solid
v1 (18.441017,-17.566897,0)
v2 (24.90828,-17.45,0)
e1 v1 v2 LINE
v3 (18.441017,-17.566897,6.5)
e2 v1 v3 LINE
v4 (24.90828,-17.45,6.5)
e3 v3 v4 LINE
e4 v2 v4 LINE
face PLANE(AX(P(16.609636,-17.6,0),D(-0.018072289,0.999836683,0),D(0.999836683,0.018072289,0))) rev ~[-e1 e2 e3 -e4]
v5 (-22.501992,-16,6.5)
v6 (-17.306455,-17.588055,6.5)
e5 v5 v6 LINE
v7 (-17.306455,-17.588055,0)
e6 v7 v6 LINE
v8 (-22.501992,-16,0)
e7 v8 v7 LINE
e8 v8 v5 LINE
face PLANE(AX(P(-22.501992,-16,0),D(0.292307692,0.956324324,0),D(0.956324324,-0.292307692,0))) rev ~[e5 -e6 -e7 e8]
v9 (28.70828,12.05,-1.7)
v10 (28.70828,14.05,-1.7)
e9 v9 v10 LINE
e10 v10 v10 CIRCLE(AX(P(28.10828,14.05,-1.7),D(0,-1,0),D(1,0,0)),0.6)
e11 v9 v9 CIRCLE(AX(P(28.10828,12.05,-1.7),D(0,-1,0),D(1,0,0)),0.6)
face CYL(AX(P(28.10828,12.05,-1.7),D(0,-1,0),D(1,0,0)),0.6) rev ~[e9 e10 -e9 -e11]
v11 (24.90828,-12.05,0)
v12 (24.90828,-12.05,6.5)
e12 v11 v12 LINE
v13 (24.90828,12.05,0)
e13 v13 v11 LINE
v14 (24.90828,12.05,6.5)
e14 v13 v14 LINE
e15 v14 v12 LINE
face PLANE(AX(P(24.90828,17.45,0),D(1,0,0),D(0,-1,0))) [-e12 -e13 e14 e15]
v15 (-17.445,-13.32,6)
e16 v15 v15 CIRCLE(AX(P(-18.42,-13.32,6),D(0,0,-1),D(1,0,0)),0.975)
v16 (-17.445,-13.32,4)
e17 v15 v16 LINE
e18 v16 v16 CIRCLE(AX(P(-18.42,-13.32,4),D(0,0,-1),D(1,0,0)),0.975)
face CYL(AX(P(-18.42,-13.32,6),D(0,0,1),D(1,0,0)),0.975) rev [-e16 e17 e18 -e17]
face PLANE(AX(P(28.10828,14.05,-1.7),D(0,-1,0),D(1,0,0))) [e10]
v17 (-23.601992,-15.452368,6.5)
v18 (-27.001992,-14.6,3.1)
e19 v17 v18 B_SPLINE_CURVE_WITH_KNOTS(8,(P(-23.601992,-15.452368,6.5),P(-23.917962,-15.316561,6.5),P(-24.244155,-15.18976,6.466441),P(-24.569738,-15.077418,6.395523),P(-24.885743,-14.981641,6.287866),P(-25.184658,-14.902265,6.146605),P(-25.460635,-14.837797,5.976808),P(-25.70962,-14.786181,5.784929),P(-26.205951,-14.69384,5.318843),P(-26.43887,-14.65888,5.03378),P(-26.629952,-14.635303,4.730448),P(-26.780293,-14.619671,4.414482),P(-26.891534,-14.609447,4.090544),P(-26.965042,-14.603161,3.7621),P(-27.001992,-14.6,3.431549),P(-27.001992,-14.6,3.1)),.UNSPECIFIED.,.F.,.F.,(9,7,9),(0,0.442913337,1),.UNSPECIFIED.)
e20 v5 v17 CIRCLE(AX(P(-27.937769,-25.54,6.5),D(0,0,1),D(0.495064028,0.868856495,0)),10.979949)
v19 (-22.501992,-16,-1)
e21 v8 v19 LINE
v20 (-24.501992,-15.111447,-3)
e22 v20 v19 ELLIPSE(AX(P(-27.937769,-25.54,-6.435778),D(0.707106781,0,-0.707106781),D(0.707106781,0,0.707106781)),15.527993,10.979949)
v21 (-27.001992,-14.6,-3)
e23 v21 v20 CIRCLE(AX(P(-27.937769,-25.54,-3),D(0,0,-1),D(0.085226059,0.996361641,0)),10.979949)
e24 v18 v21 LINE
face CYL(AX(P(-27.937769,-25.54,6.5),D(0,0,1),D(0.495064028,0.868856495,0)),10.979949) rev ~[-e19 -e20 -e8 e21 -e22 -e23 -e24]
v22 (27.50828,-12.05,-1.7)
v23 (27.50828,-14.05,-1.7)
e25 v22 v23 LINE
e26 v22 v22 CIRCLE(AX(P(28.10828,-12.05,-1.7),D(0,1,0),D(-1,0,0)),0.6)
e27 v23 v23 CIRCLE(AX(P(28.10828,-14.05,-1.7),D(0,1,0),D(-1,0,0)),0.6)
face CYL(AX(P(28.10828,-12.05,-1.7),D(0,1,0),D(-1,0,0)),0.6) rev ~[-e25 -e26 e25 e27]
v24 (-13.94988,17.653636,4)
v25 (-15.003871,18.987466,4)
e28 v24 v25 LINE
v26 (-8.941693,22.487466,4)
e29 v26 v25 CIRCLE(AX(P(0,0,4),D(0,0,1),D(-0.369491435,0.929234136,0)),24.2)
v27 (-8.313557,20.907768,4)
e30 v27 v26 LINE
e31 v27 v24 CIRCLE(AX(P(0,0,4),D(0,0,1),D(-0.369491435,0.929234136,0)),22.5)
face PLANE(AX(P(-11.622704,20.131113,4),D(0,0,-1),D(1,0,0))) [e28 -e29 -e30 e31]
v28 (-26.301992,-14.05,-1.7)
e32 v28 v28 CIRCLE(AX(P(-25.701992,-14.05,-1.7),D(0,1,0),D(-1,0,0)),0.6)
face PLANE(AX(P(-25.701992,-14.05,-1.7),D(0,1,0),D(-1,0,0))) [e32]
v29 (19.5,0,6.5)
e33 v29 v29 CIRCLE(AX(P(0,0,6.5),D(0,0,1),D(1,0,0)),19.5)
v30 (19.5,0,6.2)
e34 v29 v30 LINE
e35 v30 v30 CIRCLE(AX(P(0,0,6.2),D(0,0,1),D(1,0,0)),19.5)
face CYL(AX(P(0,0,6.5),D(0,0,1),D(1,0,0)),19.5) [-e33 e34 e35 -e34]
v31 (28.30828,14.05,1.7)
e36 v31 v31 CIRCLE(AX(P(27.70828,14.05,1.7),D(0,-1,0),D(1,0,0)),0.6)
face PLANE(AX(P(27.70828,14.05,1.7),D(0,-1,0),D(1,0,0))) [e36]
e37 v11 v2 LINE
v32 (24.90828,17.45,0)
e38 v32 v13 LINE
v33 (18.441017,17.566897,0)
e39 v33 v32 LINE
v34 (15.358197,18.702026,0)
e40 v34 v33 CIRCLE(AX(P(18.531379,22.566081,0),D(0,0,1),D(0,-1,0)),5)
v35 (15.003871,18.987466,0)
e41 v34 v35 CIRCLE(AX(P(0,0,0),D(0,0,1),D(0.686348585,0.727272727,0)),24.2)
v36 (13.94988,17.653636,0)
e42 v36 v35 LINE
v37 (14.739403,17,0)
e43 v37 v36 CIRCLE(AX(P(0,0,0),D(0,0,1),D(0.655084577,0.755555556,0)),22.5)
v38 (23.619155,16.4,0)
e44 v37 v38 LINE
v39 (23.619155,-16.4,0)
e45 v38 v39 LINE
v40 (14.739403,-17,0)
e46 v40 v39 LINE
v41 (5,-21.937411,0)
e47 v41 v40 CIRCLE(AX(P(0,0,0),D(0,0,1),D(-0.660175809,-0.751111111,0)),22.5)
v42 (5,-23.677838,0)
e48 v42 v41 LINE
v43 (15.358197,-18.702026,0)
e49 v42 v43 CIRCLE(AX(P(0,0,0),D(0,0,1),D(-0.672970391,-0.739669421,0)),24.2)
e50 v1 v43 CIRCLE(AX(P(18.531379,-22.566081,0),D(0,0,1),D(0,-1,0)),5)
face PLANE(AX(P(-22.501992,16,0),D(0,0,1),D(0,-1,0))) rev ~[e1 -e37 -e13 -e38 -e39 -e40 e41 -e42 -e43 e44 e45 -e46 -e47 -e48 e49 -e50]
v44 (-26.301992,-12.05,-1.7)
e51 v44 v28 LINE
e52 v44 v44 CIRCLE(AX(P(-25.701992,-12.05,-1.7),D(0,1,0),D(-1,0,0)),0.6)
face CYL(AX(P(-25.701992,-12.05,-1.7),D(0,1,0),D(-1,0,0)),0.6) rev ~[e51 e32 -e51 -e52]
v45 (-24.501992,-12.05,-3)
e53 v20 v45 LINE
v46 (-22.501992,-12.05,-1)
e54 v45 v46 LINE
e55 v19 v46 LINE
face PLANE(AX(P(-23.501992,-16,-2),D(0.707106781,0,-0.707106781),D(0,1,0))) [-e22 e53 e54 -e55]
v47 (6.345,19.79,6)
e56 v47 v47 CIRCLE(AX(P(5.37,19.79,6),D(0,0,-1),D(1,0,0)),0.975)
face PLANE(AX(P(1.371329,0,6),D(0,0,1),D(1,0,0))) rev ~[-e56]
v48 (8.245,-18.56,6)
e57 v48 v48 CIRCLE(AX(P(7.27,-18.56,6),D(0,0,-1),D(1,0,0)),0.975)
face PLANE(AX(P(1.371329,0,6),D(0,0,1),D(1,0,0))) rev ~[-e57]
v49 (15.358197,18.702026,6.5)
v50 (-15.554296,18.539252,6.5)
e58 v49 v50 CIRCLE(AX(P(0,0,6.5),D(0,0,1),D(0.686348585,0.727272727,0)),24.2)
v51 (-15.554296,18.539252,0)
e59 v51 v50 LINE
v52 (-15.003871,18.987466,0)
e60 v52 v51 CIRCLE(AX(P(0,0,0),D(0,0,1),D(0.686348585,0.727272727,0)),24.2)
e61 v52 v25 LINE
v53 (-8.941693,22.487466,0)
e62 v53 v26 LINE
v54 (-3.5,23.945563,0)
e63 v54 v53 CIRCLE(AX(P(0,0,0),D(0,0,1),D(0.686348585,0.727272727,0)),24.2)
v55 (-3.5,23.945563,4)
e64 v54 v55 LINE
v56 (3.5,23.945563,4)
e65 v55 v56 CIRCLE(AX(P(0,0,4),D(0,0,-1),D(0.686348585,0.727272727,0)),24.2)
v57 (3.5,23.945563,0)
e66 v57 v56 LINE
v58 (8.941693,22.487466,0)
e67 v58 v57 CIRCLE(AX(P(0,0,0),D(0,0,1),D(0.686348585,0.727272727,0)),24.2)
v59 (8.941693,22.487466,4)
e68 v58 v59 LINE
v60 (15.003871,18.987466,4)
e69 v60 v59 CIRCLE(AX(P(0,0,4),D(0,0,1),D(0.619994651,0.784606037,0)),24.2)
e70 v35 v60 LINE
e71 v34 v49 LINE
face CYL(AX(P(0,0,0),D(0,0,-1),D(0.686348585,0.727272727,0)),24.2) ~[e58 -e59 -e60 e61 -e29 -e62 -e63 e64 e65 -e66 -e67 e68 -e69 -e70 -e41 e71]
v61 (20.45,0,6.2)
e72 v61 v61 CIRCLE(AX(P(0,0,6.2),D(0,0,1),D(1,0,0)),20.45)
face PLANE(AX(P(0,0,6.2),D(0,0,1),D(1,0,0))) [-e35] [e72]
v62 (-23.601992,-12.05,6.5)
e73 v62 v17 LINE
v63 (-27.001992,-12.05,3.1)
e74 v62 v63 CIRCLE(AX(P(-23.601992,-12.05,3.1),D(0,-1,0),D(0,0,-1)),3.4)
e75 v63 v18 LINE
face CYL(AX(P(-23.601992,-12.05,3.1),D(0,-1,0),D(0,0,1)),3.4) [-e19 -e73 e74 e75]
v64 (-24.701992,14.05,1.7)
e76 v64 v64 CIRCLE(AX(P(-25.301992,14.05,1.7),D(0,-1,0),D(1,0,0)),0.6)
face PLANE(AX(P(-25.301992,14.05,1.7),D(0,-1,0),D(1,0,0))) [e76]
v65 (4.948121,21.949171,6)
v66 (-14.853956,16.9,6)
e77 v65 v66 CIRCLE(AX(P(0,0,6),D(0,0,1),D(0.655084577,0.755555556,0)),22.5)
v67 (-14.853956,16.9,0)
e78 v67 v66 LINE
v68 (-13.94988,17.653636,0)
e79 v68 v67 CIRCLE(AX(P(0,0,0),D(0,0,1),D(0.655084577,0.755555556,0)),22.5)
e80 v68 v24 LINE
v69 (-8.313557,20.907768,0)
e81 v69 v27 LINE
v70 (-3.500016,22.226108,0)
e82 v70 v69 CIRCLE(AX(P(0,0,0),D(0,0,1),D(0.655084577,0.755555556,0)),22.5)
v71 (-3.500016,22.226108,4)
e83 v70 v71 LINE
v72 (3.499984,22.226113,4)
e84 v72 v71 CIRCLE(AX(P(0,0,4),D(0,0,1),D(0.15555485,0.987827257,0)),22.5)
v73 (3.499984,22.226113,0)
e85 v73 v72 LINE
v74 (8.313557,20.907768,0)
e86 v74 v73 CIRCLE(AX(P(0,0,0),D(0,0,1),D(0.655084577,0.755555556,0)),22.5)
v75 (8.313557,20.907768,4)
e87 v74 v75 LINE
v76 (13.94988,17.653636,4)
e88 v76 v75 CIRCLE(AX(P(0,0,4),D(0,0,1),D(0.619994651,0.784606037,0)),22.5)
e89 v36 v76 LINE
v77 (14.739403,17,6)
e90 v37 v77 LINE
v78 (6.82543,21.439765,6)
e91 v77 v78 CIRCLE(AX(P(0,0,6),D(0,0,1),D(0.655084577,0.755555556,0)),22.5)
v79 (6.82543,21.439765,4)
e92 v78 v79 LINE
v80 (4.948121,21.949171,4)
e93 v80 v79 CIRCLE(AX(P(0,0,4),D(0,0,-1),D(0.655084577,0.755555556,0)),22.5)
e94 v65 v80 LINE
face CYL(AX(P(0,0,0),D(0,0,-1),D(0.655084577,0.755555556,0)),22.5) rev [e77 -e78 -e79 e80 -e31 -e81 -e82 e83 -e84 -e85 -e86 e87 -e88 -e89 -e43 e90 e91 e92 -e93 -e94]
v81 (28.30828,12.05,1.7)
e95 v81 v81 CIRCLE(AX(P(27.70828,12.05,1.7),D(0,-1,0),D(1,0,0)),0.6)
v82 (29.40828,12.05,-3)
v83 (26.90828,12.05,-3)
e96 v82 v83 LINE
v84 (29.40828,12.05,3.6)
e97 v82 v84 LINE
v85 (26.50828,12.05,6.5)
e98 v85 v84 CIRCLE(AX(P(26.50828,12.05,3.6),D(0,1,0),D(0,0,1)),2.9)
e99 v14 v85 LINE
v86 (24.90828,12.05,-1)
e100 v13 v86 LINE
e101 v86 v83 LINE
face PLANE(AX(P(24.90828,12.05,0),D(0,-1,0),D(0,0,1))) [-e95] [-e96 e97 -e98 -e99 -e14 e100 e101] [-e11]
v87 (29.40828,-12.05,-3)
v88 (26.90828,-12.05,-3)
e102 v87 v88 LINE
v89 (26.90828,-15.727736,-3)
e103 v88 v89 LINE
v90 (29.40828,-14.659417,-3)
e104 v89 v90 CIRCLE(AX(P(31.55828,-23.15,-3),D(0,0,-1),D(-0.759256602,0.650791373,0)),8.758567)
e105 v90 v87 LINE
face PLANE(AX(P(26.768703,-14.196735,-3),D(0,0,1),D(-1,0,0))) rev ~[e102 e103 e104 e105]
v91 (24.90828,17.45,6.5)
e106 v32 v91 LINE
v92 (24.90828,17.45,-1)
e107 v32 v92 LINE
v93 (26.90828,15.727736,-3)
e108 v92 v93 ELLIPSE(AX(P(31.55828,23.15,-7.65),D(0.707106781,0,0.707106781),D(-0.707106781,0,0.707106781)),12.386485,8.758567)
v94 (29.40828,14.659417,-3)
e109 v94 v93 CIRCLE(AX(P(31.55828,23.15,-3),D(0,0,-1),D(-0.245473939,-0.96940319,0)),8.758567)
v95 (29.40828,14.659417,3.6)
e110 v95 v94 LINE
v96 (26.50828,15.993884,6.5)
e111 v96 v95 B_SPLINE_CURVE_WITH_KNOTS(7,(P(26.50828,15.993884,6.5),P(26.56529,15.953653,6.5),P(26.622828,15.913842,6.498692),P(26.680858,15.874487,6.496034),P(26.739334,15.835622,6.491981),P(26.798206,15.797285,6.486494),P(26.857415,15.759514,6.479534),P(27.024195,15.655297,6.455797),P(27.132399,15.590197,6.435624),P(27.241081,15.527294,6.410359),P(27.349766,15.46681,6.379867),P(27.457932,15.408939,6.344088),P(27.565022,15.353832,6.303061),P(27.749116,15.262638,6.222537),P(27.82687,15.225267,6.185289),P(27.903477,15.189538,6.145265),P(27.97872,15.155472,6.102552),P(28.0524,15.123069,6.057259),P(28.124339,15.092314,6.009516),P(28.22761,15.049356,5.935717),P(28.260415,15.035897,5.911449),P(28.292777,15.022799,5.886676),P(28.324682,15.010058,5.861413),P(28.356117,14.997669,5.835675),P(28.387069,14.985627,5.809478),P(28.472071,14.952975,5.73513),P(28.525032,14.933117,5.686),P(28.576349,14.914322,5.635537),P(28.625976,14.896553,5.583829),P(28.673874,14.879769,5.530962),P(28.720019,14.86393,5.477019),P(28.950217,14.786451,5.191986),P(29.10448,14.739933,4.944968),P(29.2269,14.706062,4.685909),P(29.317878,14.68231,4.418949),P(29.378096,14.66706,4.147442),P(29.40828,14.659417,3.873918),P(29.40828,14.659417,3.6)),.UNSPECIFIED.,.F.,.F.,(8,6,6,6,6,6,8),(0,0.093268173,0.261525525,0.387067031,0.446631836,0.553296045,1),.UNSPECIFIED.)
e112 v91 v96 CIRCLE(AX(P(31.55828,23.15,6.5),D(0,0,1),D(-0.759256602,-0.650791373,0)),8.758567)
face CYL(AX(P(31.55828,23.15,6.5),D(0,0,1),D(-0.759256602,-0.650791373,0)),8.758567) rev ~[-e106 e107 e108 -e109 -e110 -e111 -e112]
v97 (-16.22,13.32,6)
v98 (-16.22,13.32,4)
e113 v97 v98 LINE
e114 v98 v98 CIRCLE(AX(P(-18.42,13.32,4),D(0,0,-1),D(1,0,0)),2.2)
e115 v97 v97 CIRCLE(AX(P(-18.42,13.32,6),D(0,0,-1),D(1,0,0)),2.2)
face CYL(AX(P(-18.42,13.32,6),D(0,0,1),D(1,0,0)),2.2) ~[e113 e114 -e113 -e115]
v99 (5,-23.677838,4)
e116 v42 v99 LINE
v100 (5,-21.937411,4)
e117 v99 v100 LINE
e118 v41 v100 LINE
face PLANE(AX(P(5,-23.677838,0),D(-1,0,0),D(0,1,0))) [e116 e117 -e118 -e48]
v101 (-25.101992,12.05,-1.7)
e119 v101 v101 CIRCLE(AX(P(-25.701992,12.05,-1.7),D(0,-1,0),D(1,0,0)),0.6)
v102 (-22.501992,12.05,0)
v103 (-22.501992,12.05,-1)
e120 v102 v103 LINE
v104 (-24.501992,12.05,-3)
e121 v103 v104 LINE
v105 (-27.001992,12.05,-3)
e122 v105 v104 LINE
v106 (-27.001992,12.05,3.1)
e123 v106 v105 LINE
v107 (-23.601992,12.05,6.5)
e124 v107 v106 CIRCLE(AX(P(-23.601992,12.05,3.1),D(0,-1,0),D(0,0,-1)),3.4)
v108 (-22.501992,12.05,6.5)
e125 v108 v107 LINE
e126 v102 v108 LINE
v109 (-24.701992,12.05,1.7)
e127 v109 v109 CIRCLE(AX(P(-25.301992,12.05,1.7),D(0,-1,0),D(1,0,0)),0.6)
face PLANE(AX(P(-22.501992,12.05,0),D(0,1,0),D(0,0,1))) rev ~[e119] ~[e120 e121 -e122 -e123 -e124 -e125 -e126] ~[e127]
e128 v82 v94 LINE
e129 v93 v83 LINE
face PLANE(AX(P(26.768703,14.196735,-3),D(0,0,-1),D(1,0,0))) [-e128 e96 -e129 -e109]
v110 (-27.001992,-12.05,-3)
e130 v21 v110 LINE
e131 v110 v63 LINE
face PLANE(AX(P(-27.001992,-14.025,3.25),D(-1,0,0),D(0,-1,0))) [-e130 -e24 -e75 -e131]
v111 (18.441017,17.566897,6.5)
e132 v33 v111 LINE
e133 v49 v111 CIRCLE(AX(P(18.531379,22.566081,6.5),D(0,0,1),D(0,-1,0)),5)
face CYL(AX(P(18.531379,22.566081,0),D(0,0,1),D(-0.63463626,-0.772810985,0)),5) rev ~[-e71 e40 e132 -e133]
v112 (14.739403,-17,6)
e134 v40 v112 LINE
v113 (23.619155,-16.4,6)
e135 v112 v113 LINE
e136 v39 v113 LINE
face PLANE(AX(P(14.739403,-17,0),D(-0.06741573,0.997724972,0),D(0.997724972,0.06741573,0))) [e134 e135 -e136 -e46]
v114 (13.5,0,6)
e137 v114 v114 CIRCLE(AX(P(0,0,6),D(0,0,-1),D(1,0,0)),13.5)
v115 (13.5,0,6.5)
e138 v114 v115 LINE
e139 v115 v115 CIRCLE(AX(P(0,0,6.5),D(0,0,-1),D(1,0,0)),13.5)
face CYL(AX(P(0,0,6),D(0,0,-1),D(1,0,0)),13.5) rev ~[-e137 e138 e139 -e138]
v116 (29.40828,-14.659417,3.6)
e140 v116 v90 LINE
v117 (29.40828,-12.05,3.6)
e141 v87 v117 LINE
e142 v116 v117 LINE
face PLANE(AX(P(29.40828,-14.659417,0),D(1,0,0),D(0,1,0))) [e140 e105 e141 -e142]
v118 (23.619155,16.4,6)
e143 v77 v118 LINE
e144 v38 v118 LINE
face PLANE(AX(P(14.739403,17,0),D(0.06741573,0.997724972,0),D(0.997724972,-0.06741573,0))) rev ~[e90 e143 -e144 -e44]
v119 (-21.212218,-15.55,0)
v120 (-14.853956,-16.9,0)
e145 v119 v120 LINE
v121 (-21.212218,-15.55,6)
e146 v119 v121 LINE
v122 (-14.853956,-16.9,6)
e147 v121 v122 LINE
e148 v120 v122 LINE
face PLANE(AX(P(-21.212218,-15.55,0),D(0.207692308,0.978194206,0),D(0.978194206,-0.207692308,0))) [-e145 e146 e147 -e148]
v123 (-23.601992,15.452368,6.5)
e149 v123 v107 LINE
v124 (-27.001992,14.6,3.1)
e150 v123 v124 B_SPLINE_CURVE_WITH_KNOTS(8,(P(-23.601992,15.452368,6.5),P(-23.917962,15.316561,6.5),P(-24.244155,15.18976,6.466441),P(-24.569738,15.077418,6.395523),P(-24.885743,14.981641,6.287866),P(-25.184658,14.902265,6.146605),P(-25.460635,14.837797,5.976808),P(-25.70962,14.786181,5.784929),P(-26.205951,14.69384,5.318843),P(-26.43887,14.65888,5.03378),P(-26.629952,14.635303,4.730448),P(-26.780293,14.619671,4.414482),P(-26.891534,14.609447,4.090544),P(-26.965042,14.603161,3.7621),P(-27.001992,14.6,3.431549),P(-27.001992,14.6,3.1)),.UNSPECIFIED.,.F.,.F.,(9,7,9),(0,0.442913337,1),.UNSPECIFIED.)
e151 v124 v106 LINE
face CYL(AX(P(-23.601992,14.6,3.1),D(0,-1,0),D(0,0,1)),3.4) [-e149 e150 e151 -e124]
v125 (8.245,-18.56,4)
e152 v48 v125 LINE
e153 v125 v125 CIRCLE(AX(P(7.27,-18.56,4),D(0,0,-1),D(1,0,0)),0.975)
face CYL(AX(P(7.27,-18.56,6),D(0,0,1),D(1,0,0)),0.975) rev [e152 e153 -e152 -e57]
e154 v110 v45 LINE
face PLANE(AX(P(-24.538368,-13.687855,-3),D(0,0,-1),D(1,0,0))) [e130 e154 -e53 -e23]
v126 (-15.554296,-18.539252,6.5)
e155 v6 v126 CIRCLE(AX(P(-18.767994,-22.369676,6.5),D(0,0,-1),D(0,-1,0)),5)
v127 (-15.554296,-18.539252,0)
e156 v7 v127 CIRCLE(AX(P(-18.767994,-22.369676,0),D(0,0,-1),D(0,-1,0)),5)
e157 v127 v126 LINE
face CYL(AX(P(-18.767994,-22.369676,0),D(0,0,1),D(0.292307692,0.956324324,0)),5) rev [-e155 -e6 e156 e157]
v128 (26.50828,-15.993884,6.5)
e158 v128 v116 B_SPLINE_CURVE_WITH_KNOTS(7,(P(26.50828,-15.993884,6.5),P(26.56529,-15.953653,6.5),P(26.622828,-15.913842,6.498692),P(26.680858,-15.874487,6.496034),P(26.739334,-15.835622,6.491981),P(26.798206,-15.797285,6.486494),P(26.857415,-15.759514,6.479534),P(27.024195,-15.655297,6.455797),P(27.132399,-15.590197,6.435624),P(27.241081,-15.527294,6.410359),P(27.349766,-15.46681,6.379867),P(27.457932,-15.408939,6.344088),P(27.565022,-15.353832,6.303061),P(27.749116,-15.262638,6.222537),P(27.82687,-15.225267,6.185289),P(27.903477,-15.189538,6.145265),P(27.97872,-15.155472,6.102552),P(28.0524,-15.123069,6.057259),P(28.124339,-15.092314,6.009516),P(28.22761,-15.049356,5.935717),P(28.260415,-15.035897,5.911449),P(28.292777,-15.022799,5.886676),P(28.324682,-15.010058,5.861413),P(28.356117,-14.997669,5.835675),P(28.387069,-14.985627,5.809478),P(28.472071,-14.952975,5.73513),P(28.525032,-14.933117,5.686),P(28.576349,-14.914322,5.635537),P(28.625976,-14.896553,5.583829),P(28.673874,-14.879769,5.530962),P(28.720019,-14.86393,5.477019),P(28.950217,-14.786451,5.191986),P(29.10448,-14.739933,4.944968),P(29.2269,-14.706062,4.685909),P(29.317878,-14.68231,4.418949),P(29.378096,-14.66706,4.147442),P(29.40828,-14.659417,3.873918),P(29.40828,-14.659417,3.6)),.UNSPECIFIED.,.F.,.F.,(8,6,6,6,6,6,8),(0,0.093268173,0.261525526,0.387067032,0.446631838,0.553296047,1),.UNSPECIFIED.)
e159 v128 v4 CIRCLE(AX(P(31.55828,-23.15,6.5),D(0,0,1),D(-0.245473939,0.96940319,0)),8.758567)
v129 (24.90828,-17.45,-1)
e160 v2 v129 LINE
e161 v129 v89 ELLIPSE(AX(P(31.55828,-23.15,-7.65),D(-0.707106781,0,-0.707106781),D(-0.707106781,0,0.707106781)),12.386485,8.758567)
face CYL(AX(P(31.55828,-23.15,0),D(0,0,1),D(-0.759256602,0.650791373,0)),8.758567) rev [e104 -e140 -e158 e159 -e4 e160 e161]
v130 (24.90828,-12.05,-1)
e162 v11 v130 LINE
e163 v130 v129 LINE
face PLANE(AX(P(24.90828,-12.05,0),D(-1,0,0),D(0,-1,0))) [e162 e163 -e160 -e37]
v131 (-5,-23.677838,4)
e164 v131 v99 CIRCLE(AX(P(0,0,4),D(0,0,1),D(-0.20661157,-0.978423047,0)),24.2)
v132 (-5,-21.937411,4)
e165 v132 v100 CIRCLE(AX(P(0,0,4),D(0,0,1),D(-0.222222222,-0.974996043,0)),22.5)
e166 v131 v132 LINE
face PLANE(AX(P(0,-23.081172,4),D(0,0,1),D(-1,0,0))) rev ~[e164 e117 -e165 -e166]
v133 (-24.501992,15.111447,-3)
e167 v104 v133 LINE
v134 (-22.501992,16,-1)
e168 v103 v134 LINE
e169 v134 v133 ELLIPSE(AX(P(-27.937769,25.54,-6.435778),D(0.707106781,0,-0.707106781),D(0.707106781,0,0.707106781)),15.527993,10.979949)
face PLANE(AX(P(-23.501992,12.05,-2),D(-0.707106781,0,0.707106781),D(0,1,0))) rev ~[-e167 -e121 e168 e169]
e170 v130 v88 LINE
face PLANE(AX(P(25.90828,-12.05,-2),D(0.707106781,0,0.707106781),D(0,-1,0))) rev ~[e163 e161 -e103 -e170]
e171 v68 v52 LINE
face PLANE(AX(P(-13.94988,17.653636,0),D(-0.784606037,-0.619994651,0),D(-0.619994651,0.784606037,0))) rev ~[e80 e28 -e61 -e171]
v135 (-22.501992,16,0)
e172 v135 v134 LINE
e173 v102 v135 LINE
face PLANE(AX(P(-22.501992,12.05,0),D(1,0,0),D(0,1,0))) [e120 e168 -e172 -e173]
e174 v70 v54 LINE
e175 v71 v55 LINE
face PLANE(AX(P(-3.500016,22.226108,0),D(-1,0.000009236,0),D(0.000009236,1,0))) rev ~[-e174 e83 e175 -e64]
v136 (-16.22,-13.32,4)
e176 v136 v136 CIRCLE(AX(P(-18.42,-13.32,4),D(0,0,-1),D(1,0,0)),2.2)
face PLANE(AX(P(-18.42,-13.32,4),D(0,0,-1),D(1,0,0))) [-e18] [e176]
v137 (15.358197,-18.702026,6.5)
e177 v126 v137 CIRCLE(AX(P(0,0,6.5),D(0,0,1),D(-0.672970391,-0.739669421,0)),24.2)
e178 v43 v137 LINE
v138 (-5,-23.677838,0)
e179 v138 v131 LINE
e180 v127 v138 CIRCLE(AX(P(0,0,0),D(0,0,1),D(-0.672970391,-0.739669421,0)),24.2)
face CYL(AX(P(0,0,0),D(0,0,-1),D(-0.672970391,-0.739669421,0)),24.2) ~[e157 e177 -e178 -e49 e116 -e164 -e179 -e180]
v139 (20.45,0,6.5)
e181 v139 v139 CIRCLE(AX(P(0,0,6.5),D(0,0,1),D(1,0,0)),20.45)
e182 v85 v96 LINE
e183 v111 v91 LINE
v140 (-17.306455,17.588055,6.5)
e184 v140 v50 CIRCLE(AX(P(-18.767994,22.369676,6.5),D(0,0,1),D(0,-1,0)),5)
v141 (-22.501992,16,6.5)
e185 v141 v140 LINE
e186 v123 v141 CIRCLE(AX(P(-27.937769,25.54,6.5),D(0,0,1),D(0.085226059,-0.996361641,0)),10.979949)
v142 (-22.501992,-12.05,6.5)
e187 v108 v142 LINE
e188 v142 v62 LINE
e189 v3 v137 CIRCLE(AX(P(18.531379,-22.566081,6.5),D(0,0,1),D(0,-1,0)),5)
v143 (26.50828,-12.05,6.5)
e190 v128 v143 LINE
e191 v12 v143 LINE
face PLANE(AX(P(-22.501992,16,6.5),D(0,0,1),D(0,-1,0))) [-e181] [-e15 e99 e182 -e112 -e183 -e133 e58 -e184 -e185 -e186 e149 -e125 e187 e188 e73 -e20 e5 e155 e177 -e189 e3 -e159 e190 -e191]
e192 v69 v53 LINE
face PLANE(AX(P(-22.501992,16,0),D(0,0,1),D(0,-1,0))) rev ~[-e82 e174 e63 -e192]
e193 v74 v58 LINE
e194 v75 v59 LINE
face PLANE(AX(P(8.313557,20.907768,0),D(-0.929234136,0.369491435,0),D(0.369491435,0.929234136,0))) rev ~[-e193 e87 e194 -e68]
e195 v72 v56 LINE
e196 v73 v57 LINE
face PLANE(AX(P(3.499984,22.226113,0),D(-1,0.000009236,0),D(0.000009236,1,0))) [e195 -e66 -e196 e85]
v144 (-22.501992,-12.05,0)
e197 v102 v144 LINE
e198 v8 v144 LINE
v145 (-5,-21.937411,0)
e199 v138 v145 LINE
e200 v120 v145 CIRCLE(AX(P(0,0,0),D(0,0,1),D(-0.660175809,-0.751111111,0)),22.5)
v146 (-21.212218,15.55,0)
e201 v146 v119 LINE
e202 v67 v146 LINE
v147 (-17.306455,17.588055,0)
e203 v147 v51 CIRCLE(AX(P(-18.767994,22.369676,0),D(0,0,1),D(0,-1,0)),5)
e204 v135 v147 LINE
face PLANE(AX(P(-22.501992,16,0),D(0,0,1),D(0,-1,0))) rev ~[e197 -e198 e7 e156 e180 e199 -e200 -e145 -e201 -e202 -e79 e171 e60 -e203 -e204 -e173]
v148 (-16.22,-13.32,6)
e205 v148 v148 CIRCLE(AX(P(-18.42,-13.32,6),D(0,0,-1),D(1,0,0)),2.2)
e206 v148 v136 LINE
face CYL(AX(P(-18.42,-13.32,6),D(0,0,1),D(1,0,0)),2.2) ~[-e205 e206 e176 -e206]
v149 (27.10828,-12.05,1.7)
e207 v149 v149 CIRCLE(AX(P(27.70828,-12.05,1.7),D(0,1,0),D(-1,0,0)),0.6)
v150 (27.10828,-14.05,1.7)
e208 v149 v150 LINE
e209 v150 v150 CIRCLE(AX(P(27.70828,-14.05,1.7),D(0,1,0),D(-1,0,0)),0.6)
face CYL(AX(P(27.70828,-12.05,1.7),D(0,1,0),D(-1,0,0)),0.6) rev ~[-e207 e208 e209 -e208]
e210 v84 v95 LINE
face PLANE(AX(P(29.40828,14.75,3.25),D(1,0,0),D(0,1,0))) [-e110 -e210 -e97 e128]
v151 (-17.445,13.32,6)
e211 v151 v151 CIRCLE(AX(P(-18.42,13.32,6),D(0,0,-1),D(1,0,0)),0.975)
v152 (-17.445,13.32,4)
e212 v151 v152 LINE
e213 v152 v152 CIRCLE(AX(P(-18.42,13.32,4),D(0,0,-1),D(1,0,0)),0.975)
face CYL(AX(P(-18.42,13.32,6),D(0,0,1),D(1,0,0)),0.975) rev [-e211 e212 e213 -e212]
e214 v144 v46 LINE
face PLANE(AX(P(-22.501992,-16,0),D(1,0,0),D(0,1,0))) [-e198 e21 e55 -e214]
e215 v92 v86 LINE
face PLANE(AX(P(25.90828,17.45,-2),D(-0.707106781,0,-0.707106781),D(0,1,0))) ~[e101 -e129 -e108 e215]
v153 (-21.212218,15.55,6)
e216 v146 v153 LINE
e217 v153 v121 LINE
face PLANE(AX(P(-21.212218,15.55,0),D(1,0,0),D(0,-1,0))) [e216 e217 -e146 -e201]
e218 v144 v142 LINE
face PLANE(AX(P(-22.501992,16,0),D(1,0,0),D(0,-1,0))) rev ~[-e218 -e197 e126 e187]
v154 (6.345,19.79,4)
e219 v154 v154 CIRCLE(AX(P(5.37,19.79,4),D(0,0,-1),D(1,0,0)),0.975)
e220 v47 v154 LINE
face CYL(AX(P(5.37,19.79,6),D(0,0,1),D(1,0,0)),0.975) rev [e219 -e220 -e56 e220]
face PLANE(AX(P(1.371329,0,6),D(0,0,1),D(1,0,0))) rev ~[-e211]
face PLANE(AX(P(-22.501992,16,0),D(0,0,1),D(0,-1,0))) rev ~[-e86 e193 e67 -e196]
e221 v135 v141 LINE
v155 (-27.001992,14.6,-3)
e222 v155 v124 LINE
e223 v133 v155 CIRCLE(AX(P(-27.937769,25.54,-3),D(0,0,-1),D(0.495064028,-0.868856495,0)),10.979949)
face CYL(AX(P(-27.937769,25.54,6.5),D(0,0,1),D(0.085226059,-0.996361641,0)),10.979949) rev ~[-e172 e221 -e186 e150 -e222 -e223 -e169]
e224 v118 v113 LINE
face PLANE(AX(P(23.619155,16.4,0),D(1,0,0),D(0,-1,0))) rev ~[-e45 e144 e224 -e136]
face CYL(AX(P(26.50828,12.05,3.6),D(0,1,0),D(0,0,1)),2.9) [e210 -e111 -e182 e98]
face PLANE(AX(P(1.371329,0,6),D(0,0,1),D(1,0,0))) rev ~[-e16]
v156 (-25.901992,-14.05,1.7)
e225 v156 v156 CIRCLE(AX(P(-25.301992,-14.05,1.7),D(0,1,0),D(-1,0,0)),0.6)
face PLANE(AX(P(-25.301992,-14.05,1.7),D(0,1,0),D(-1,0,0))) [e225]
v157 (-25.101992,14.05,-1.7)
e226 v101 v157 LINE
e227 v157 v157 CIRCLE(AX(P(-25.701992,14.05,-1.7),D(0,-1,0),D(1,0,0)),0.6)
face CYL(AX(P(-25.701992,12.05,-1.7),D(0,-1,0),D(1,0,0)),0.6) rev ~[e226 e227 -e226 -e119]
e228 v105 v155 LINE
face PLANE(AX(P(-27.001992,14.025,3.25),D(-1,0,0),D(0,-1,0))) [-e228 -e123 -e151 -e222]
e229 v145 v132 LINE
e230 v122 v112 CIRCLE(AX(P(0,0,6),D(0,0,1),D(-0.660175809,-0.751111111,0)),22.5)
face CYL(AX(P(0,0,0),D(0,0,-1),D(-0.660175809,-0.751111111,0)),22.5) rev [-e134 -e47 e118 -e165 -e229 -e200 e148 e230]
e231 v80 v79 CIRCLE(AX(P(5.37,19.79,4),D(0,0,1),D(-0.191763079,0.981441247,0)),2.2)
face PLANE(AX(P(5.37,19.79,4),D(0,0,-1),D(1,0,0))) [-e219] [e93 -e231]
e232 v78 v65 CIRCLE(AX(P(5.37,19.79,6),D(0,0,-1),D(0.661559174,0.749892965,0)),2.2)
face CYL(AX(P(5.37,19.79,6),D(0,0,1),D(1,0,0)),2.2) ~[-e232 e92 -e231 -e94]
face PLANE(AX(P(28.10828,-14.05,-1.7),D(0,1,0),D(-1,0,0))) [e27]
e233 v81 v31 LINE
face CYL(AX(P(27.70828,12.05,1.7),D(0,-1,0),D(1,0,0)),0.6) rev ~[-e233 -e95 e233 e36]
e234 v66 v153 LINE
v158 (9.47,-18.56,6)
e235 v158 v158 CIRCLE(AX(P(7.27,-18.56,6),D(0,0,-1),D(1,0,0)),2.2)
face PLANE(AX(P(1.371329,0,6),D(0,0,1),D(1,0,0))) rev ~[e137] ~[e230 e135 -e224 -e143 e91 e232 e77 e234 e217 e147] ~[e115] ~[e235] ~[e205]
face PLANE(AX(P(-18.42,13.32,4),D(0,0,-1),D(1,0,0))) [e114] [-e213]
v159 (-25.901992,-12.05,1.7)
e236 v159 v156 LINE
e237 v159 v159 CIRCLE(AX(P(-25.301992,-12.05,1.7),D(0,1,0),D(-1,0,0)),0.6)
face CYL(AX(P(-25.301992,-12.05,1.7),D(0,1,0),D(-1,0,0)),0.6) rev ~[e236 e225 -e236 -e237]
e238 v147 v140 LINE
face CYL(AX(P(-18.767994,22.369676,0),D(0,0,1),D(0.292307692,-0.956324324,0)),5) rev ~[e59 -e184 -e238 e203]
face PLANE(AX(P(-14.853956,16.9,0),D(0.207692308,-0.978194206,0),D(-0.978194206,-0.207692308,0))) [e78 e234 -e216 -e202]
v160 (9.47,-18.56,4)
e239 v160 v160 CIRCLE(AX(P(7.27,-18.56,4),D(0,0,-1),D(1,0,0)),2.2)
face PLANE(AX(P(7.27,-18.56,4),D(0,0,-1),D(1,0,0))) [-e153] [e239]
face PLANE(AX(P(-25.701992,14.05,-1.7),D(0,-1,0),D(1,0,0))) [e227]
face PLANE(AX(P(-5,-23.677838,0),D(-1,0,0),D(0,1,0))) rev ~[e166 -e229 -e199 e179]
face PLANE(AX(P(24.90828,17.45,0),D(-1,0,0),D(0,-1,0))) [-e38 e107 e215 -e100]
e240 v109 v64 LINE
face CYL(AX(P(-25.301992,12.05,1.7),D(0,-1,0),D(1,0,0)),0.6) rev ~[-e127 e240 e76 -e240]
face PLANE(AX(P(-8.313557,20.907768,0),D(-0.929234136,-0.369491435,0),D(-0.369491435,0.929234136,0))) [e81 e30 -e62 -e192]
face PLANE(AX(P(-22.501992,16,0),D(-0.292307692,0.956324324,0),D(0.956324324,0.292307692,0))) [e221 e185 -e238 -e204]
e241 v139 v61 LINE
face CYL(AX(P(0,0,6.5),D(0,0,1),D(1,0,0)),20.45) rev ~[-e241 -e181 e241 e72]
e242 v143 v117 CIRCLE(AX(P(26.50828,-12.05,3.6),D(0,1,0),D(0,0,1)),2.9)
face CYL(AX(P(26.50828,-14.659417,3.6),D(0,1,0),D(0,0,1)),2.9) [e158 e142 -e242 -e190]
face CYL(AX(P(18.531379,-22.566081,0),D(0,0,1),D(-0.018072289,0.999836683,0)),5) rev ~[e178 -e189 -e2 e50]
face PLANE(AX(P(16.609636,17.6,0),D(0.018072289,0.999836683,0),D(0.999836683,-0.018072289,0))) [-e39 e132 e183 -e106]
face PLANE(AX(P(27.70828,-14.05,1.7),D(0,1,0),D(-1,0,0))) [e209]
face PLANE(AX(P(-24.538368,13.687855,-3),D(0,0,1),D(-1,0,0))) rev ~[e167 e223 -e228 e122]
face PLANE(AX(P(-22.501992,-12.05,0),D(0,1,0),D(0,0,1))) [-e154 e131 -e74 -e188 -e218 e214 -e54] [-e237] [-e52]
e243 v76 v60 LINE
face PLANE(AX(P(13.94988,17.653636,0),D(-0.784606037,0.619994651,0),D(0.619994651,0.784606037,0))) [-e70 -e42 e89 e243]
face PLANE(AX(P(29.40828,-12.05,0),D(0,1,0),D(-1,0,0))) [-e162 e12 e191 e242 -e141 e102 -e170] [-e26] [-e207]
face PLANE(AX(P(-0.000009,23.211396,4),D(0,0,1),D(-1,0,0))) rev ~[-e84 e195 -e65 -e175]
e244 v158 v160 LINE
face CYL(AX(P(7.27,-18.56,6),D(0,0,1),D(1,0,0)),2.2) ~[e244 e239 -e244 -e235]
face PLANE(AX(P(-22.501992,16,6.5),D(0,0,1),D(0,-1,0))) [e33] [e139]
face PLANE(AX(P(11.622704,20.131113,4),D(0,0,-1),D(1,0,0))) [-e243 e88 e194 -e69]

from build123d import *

# Parameters (mm, degrees)
PAD_DEPTH       = 6.5
POCKET_DEPTH    = 6
SKETCH002_R     = 13.5
POCKET001_DEPTH = 1
SKETCH003_W     = 5.4
SKETCH003_H     = 6.5
PAD001_DEPTH    = 4.5
POCKET002_DEPTH = 10
SKETCH008_R     = 0.6
POCKET003_DEPTH = 2
SKETCH009_R     = 0.6
POCKET004_DEPTH = 2
FILLET_R        = 2.9
FILLET001_R     = 2.9
FILLET002_R     = 5
FILLET003_R     = 5
FILLET004_R     = 5
FILLET005_R     = 5
SKETCH010_W     = 3.95
SKETCH010_H     = 6.5
PAD002_DEPTH    = 4.5
POCKET005_DEPTH = 10
SKETCH012_R     = 0.6
POCKET006_DEPTH = 2
SKETCH013_R     = 0.6
POCKET007_DEPTH = 2
FILLET006_R     = 3.4
FILLET007_R     = 3.4
SKETCH014_R     = 20.45
SKETCH014_R_2   = 19.5
POCKET008_DEPTH = 0.3
SKETCH015_R     = 2.2
SKETCH015_R_2   = 0.975
PAD003_DEPTH    = 2
POCKET009_DEPTH = 4
POCKET010_DEPTH = 4
PAD004_DEPTH    = 3
CHAMFER_SIZE    = 2
CHAMFER001_SIZE = 2
CHAMFER002_SIZE = 2
CHAMFER003_SIZE = 2
SKETCH019_R     = 0.6
POCKET011_DEPTH = 2
SKETCH020_R     = 0.6
POCKET012_DEPTH = 2


with BuildPart() as part:
    # Sketch → Pad (new body)
    with BuildSketch(Plane.XY):
        with BuildLine():
            Line((-22.5019915649, 16), (-22.5019915649, -16))
            Line((-22.5019915649, -16), (-16.2858834577, -17.9000000001))
            ThreePointArc((-16.2858834577, -17.9000000001), (0.2206895737, -24.1989937004), (16.6096357576, -17.5999999999))
            Line((16.6096357576, -17.5999999999), (24.9082802252, -17.45))
            Line((24.9082802252, 17.45), (24.9082802252, -17.45))
            Line((16.6096357576, 17.6), (24.9082802252, 17.45))
            ThreePointArc((16.6096357576, 17.6), (0.2206895736, 24.1989937004), (-16.2858834578, 17.9))
            Line((-22.5019915649, 16), (-16.2858834578, 17.9))
        make_face()
    extrude(amount=PAD_DEPTH)

    # Sketch001 → Pocket (cut)
    with BuildSketch(Plane.XY):
        with BuildLine():
            Line((-14.8539557021, 16.9), (-21.2122180433, 15.55))
            Line((-21.2122180433, 15.55), (-21.2122180433, -15.55))
            Line((-21.2122180433, -15.55), (-14.8539557021, -16.9))
            ThreePointArc((-14.8539557021, -16.9), (-0.0760301383, -22.4998715423), (14.739402973, -17))
            Line((14.739402973, -17), (23.6191552218, -16.4))
            Line((23.6191552218, 16.4), (23.6191552218, -16.4))
            Line((14.739402973, 17), (23.6191552218, 16.4))
            ThreePointArc((14.739402973, 17), (-0.0760301383, 22.4998715423), (-14.8539557021, 16.9))
        make_face()
    extrude(amount=POCKET_DEPTH, mode=Mode.SUBTRACT)

    # Sketch002 (on Face19 of Pocket) → Pocket001 (cut)
    with BuildSketch(Plane(origin=(0, 0, 6), x_dir=(1, 0, 0), z_dir=(0, 0, -1))):
        Circle(SKETCH002_R)
    extrude(amount=-POCKET001_DEPTH, mode=Mode.SUBTRACT)

    # Sketch003 (on Face7 of Pad) → Pad001 (join)
    with BuildSketch(Plane.YZ.offset(24.9082802252)):
        with Locations((-14.75, 3.25)):
            Rectangle(SKETCH003_W, SKETCH003_H)
        with Locations((14.75, 3.25)):
            Rectangle(SKETCH003_W, SKETCH003_H)
    extrude(amount=PAD001_DEPTH)

    # Sketch006 (on Face22 of Pad001) → Pocket002 (cut)
    with BuildSketch(Plane.XY.offset(6.5)):
        with BuildLine():
            ThreePointArc((24.9082802252, 17.45), (26.9423471239, 15.7065020586), (29.4082802252, 14.6594169811))
            Line((29.4082802252, 17.45), (29.4082802252, 14.6594169811))
            Line((29.4082802252, 17.45), (24.9082802252, 17.45))
        make_face()
        with BuildLine():
            ThreePointArc((29.4082802252, -14.6594169811), (26.9423471239, -15.7065020586), (24.9082802252, -17.45))
            Line((29.4082802252, -17.45), (24.9082802252, -17.45))
            Line((29.4082802252, -14.6594169811), (29.4082802252, -17.45))
        make_face()
    extrude(amount=-POCKET002_DEPTH, mode=Mode.SUBTRACT)

    # Sketch008 (on Face27 of Pocket002) → Pocket003 (cut)
    with BuildSketch(Plane(origin=(0, -12.05, 0), x_dir=(-1, 0, 0), z_dir=(0, 1, 0))):
        with Locations((-27.7082802252, 1.7)):
            Circle(SKETCH008_R)
    extrude(amount=-POCKET003_DEPTH, mode=Mode.SUBTRACT)

    # Sketch009 (on Face26 of Pocket003) → Pocket004 (cut)
    with BuildSketch(Plane.XZ.offset(-12.05)):
        with Locations((27.7082802252, 1.7)):
            Circle(SKETCH009_R)
    extrude(amount=-POCKET004_DEPTH, mode=Mode.SUBTRACT)

    # Fillet
    fillet_edges = [part.edges().sort_by_distance(p)[0] for p in [
        (29.40828, -13.354708, 6.5),
    ]]
    fillet(fillet_edges, radius=FILLET_R)

    # Fillet001
    fillet001_edges = [part.edges().sort_by_distance(p)[0] for p in [
        (29.40828, 13.354708, 6.5),
    ]]
    fillet(fillet001_edges, radius=FILLET001_R)

    # Fillet002
    fillet002_edges = [part.edges().sort_by_distance(p)[0] for p in [
        (16.609636, -17.6, 3.25),
    ]]
    fillet(fillet002_edges, radius=FILLET002_R)

    # Fillet003
    fillet003_edges = [part.edges().sort_by_distance(p)[0] for p in [
        (16.609636, 17.6, 3.25),
    ]]
    fillet(fillet003_edges, radius=FILLET003_R)

    # Fillet004
    fillet004_edges = [part.edges().sort_by_distance(p)[0] for p in [
        (-16.285883, -17.9, 3.25),
    ]]
    fillet(fillet004_edges, radius=FILLET004_R)

    # Fillet005
    fillet005_edges = [part.edges().sort_by_distance(p)[0] for p in [
        (-16.285883, 17.9, 3.25),
    ]]
    fillet(fillet005_edges, radius=FILLET005_R)

    # Sketch010 (on Face3 of Pad) → Pad002 (join)
    with BuildSketch(Plane(origin=(-22.5019915649, 0, 0), x_dir=(0, -1, 0), z_dir=(-1, 0, 0))):
        with Locations((-14.025, 3.25)):
            Rectangle(SKETCH010_W, SKETCH010_H)
        with Locations((14.025, 3.25)):
            Rectangle(SKETCH010_W, SKETCH010_H)
    extrude(amount=PAD002_DEPTH)

    # Sketch011 (on Face6 of Pad002) → Pocket005 (cut)
    with BuildSketch(Plane.XY.offset(6.5)):
        with BuildLine():
            ThreePointArc((-27.0019915649, 14.6), (-24.6759937451, 15.0557212933), (-22.5019915649, 16))
            Line((-22.5019915649, 16), (-27.0019915649, 16))
            Line((-27.0019915649, 16), (-27.0019915649, 14.6))
        make_face()
        with BuildLine():
            ThreePointArc((-22.5019915649, -16), (-24.6759937451, -15.0557212933), (-27.0019915649, -14.6))
            Line((-27.0019915649, -14.6), (-27.0019915649, -16))
            Line((-27.0019915649, -16), (-22.5019915649, -16))
        make_face()
    extrude(amount=-POCKET005_DEPTH, mode=Mode.SUBTRACT)

    # Sketch012 (on Face23 of Pocket005) → Pocket006 (cut)
    with BuildSketch(Plane(origin=(0, -12.05, 0), x_dir=(-1, 0, 0), z_dir=(0, 1, 0))):
        with Locations((25.3019915649, 1.7)):
            Circle(SKETCH012_R)
    extrude(amount=-POCKET006_DEPTH, mode=Mode.SUBTRACT)

    # Sketch013 (on Face21 of Pocket006) → Pocket007 (cut)
    with BuildSketch(Plane.XZ.offset(-12.05)):
        with Locations((-25.3019915649, 1.7)):
            Circle(SKETCH013_R)
    extrude(amount=-POCKET007_DEPTH, mode=Mode.SUBTRACT)

    # Fillet006
    fillet006_edges = [part.edges().sort_by_distance(p)[0] for p in [
        (-27.001992, 13.325, 6.5),
    ]]
    fillet(fillet006_edges, radius=FILLET006_R)

    # Fillet007
    fillet007_edges = [part.edges().sort_by_distance(p)[0] for p in [
        (-27.001992, -13.325, 6.5),
    ]]
    fillet(fillet007_edges, radius=FILLET007_R)

    # Sketch014 (on Face4 of Fillet007) → Pocket008 (cut)
    with BuildSketch(Plane.XY.offset(6.5)):
        Circle(SKETCH014_R)
        Circle(SKETCH014_R_2, mode=Mode.SUBTRACT)
    extrude(amount=-POCKET008_DEPTH, mode=Mode.SUBTRACT)

    # Sketch015 (on Face55 of Pocket008) → Pad003 (join)
    with BuildSketch(Plane(origin=(0, 0, 6), x_dir=(1, 0, 0), z_dir=(0, 0, -1))):
        with Locations((-18.42, 13.32)):
            Circle(SKETCH015_R)
        with Locations((-18.42, 13.32)):
            Circle(SKETCH015_R_2, mode=Mode.SUBTRACT)
        with Locations((7.27, 18.56)):
            Circle(SKETCH015_R)
        with Locations((7.27, 18.56)):
            Circle(SKETCH015_R_2, mode=Mode.SUBTRACT)
        with Locations((5.37, -19.79)):
            Circle(SKETCH015_R)
        with Locations((5.37, -19.79)):
            Circle(SKETCH015_R_2, mode=Mode.SUBTRACT)
        with Locations((-18.42, -13.32)):
            Circle(SKETCH015_R)
        with Locations((-18.42, -13.32)):
            Circle(SKETCH015_R_2, mode=Mode.SUBTRACT)
    extrude(amount=PAD003_DEPTH)

    # Sketch016 → Pocket009 (cut)
    with BuildSketch(Plane(origin=(0, 0, 0), x_dir=(-1, 0, 0), z_dir=(0, 0, 1))):
        with BuildLine():
            Line((-5, 23.6778377391), (-5, 21.9374109685))
            ThreePointArc((5, 21.9374109685), (0, 22.5), (-5, 21.9374109685))
            Line((5, 23.6778377391), (5, 21.9374109685))
            ThreePointArc((5, 23.6778377391), (0, 24.2), (-5, 23.6778377391))
        make_face()
    extrude(amount=POCKET009_DEPTH, mode=Mode.SUBTRACT)

    # Sketch017 → Pocket010 (cut)
    with BuildSketch(Plane(origin=(0, 0, 0), x_dir=(-1, 0, 0), z_dir=(0, 0, 1))):
        with BuildLine():
            Line((-3.499984119, -22.2261132717), (-3.5, -23.9455632634))
            ThreePointArc((-3.5, -23.9455632634), (0, -24.2000019575), (3.5, -23.9455632634))
            Line((3.5000158811, -22.2261082701), (3.5, -23.9455632634))
            ThreePointArc((-3.499984119, -22.2261132717), (1.60767e-05, -22.5), (3.5000158811, -22.2261082701))
        make_face()
        with BuildLine():
            ThreePointArc((-13.9498796389, -17.6536358312), (-11.25, -19.4855715851), (-8.3135572795, -20.9077680626))
            Line((-8.3135572795, -20.9077680626), (-8.9416927184, -22.487466094))
            ThreePointArc((-15.0038705449, -18.987466094), (-12.1, -20.9578147716), (-8.9416927184, -22.487466094))
            Line((-13.9498796389, -17.6536358312), (-15.0038705449, -18.987466094))
        make_face()
        with BuildLine():
            ThreePointArc((8.3135572795, -20.9077680626), (11.25, -19.4855715851), (13.9498796389, -17.6536358312))
            Line((13.9498796389, -17.6536358312), (15.0038705449, -18.987466094))
            ThreePointArc((8.9416927184, -22.487466094), (12.1, -20.9578147716), (15.0038705449, -18.987466094))
            Line((8.3135572795, -20.9077680626), (8.9416927184, -22.487466094))
        make_face()
    extrude(amount=POCKET010_DEPTH, mode=Mode.SUBTRACT)

    # Sketch018 (on Face57 of Pocket010) → Pad004 (join)
    with BuildSketch(Plane(origin=(0, 0, 0), x_dir=(1, 0, 0), z_dir=(0, 0, -1))):
        with BuildLine():
            Line((29.4082802252, 14.6594169811), (29.4082802252, 12.05))
            Line((29.4082802252, 12.05), (24.9082802252, 12.05))
            Line((24.9082802252, 12.05), (24.9082802252, 17.45))
            ThreePointArc((24.9082802252, 17.45), (26.9423471239, 15.7065020586), (29.4082802252, 14.6594169811))
        make_face()
        with BuildLine():
            Line((29.4082802252, -12.05), (24.9082802252, -12.05))
            Line((24.9082802252, -17.45), (24.9082802252, -12.05))
            ThreePointArc((29.4082802252, -14.6594169811), (26.9423471239, -15.7065020586), (24.9082802252, -17.45))
            Line((29.4082802252, -12.05), (29.4082802252, -14.6594169811))
        make_face()
        with BuildLine():
            Line((-27.0019915649, 14.6), (-27.0019915649, 12.05))
            Line((-27.0019915649, 12.05), (-22.5019915649, 12.05))
            Line((-22.5019915649, 16), (-22.5019915649, 12.05))
            ThreePointArc((-27.0019915649, 14.6), (-24.6759937451, 15.0557212933), (-22.5019915649, 16))
        make_face()
        with BuildLine():
            Line((-27.0019915649, -12.05), (-22.5019915649, -12.05))
            Line((-22.5019915649, -12.05), (-22.5019915649, -16))
            ThreePointArc((-22.5019915649, -16), (-24.6759937451, -15.0557212933), (-27.0019915649, -14.6))
            Line((-27.0019915649, -12.05), (-27.0019915649, -14.6))
        make_face()
    extrude(amount=PAD004_DEPTH)

    # Chamfer
    chamfer_edges = [part.edges().sort_by_distance(p)[0] for p in [
        (-22.501992, -14.025, -3),
    ]]
    chamfer(chamfer_edges, length=CHAMFER_SIZE)

    # Chamfer001
    chamfer001_edges = [part.edges().sort_by_distance(p)[0] for p in [
        (-22.501992, 14.025, -3),
    ]]
    chamfer(chamfer001_edges, length=CHAMFER001_SIZE)

    # Chamfer002
    chamfer002_edges = [part.edges().sort_by_distance(p)[0] for p in [
        (24.90828, -14.75, -3),
    ]]
    chamfer(chamfer002_edges, length=CHAMFER002_SIZE)

    # Chamfer003
    chamfer003_edges = [part.edges().sort_by_distance(p)[0] for p in [
        (24.90828, 14.75, -3),
    ]]
    chamfer(chamfer003_edges, length=CHAMFER003_SIZE)

    # Sketch019 (on Face5 of Chamfer003) → Pocket011 (cut)
    with BuildSketch(Plane.XZ.offset(-12.05)):
        with Locations((28.1082802252, -1.7)):
            Circle(SKETCH019_R)
        with Locations((-25.7019915649, -1.7)):
            Circle(SKETCH019_R)
    extrude(amount=-POCKET011_DEPTH, mode=Mode.SUBTRACT)

    # Sketch020 (on Face83 of Pocket011) → Pocket012 (cut)
    with BuildSketch(Plane(origin=(0, -12.05, 0), x_dir=(-1, 0, 0), z_dir=(0, 1, 0))):
        with Locations((25.7019915649, -1.7)):
            Circle(SKETCH020_R)
        with Locations((-28.1082802252, -1.7)):
            Circle(SKETCH020_R)
    extrude(amount=-POCKET012_DEPTH, mode=Mode.SUBTRACT)


solid = part.part
